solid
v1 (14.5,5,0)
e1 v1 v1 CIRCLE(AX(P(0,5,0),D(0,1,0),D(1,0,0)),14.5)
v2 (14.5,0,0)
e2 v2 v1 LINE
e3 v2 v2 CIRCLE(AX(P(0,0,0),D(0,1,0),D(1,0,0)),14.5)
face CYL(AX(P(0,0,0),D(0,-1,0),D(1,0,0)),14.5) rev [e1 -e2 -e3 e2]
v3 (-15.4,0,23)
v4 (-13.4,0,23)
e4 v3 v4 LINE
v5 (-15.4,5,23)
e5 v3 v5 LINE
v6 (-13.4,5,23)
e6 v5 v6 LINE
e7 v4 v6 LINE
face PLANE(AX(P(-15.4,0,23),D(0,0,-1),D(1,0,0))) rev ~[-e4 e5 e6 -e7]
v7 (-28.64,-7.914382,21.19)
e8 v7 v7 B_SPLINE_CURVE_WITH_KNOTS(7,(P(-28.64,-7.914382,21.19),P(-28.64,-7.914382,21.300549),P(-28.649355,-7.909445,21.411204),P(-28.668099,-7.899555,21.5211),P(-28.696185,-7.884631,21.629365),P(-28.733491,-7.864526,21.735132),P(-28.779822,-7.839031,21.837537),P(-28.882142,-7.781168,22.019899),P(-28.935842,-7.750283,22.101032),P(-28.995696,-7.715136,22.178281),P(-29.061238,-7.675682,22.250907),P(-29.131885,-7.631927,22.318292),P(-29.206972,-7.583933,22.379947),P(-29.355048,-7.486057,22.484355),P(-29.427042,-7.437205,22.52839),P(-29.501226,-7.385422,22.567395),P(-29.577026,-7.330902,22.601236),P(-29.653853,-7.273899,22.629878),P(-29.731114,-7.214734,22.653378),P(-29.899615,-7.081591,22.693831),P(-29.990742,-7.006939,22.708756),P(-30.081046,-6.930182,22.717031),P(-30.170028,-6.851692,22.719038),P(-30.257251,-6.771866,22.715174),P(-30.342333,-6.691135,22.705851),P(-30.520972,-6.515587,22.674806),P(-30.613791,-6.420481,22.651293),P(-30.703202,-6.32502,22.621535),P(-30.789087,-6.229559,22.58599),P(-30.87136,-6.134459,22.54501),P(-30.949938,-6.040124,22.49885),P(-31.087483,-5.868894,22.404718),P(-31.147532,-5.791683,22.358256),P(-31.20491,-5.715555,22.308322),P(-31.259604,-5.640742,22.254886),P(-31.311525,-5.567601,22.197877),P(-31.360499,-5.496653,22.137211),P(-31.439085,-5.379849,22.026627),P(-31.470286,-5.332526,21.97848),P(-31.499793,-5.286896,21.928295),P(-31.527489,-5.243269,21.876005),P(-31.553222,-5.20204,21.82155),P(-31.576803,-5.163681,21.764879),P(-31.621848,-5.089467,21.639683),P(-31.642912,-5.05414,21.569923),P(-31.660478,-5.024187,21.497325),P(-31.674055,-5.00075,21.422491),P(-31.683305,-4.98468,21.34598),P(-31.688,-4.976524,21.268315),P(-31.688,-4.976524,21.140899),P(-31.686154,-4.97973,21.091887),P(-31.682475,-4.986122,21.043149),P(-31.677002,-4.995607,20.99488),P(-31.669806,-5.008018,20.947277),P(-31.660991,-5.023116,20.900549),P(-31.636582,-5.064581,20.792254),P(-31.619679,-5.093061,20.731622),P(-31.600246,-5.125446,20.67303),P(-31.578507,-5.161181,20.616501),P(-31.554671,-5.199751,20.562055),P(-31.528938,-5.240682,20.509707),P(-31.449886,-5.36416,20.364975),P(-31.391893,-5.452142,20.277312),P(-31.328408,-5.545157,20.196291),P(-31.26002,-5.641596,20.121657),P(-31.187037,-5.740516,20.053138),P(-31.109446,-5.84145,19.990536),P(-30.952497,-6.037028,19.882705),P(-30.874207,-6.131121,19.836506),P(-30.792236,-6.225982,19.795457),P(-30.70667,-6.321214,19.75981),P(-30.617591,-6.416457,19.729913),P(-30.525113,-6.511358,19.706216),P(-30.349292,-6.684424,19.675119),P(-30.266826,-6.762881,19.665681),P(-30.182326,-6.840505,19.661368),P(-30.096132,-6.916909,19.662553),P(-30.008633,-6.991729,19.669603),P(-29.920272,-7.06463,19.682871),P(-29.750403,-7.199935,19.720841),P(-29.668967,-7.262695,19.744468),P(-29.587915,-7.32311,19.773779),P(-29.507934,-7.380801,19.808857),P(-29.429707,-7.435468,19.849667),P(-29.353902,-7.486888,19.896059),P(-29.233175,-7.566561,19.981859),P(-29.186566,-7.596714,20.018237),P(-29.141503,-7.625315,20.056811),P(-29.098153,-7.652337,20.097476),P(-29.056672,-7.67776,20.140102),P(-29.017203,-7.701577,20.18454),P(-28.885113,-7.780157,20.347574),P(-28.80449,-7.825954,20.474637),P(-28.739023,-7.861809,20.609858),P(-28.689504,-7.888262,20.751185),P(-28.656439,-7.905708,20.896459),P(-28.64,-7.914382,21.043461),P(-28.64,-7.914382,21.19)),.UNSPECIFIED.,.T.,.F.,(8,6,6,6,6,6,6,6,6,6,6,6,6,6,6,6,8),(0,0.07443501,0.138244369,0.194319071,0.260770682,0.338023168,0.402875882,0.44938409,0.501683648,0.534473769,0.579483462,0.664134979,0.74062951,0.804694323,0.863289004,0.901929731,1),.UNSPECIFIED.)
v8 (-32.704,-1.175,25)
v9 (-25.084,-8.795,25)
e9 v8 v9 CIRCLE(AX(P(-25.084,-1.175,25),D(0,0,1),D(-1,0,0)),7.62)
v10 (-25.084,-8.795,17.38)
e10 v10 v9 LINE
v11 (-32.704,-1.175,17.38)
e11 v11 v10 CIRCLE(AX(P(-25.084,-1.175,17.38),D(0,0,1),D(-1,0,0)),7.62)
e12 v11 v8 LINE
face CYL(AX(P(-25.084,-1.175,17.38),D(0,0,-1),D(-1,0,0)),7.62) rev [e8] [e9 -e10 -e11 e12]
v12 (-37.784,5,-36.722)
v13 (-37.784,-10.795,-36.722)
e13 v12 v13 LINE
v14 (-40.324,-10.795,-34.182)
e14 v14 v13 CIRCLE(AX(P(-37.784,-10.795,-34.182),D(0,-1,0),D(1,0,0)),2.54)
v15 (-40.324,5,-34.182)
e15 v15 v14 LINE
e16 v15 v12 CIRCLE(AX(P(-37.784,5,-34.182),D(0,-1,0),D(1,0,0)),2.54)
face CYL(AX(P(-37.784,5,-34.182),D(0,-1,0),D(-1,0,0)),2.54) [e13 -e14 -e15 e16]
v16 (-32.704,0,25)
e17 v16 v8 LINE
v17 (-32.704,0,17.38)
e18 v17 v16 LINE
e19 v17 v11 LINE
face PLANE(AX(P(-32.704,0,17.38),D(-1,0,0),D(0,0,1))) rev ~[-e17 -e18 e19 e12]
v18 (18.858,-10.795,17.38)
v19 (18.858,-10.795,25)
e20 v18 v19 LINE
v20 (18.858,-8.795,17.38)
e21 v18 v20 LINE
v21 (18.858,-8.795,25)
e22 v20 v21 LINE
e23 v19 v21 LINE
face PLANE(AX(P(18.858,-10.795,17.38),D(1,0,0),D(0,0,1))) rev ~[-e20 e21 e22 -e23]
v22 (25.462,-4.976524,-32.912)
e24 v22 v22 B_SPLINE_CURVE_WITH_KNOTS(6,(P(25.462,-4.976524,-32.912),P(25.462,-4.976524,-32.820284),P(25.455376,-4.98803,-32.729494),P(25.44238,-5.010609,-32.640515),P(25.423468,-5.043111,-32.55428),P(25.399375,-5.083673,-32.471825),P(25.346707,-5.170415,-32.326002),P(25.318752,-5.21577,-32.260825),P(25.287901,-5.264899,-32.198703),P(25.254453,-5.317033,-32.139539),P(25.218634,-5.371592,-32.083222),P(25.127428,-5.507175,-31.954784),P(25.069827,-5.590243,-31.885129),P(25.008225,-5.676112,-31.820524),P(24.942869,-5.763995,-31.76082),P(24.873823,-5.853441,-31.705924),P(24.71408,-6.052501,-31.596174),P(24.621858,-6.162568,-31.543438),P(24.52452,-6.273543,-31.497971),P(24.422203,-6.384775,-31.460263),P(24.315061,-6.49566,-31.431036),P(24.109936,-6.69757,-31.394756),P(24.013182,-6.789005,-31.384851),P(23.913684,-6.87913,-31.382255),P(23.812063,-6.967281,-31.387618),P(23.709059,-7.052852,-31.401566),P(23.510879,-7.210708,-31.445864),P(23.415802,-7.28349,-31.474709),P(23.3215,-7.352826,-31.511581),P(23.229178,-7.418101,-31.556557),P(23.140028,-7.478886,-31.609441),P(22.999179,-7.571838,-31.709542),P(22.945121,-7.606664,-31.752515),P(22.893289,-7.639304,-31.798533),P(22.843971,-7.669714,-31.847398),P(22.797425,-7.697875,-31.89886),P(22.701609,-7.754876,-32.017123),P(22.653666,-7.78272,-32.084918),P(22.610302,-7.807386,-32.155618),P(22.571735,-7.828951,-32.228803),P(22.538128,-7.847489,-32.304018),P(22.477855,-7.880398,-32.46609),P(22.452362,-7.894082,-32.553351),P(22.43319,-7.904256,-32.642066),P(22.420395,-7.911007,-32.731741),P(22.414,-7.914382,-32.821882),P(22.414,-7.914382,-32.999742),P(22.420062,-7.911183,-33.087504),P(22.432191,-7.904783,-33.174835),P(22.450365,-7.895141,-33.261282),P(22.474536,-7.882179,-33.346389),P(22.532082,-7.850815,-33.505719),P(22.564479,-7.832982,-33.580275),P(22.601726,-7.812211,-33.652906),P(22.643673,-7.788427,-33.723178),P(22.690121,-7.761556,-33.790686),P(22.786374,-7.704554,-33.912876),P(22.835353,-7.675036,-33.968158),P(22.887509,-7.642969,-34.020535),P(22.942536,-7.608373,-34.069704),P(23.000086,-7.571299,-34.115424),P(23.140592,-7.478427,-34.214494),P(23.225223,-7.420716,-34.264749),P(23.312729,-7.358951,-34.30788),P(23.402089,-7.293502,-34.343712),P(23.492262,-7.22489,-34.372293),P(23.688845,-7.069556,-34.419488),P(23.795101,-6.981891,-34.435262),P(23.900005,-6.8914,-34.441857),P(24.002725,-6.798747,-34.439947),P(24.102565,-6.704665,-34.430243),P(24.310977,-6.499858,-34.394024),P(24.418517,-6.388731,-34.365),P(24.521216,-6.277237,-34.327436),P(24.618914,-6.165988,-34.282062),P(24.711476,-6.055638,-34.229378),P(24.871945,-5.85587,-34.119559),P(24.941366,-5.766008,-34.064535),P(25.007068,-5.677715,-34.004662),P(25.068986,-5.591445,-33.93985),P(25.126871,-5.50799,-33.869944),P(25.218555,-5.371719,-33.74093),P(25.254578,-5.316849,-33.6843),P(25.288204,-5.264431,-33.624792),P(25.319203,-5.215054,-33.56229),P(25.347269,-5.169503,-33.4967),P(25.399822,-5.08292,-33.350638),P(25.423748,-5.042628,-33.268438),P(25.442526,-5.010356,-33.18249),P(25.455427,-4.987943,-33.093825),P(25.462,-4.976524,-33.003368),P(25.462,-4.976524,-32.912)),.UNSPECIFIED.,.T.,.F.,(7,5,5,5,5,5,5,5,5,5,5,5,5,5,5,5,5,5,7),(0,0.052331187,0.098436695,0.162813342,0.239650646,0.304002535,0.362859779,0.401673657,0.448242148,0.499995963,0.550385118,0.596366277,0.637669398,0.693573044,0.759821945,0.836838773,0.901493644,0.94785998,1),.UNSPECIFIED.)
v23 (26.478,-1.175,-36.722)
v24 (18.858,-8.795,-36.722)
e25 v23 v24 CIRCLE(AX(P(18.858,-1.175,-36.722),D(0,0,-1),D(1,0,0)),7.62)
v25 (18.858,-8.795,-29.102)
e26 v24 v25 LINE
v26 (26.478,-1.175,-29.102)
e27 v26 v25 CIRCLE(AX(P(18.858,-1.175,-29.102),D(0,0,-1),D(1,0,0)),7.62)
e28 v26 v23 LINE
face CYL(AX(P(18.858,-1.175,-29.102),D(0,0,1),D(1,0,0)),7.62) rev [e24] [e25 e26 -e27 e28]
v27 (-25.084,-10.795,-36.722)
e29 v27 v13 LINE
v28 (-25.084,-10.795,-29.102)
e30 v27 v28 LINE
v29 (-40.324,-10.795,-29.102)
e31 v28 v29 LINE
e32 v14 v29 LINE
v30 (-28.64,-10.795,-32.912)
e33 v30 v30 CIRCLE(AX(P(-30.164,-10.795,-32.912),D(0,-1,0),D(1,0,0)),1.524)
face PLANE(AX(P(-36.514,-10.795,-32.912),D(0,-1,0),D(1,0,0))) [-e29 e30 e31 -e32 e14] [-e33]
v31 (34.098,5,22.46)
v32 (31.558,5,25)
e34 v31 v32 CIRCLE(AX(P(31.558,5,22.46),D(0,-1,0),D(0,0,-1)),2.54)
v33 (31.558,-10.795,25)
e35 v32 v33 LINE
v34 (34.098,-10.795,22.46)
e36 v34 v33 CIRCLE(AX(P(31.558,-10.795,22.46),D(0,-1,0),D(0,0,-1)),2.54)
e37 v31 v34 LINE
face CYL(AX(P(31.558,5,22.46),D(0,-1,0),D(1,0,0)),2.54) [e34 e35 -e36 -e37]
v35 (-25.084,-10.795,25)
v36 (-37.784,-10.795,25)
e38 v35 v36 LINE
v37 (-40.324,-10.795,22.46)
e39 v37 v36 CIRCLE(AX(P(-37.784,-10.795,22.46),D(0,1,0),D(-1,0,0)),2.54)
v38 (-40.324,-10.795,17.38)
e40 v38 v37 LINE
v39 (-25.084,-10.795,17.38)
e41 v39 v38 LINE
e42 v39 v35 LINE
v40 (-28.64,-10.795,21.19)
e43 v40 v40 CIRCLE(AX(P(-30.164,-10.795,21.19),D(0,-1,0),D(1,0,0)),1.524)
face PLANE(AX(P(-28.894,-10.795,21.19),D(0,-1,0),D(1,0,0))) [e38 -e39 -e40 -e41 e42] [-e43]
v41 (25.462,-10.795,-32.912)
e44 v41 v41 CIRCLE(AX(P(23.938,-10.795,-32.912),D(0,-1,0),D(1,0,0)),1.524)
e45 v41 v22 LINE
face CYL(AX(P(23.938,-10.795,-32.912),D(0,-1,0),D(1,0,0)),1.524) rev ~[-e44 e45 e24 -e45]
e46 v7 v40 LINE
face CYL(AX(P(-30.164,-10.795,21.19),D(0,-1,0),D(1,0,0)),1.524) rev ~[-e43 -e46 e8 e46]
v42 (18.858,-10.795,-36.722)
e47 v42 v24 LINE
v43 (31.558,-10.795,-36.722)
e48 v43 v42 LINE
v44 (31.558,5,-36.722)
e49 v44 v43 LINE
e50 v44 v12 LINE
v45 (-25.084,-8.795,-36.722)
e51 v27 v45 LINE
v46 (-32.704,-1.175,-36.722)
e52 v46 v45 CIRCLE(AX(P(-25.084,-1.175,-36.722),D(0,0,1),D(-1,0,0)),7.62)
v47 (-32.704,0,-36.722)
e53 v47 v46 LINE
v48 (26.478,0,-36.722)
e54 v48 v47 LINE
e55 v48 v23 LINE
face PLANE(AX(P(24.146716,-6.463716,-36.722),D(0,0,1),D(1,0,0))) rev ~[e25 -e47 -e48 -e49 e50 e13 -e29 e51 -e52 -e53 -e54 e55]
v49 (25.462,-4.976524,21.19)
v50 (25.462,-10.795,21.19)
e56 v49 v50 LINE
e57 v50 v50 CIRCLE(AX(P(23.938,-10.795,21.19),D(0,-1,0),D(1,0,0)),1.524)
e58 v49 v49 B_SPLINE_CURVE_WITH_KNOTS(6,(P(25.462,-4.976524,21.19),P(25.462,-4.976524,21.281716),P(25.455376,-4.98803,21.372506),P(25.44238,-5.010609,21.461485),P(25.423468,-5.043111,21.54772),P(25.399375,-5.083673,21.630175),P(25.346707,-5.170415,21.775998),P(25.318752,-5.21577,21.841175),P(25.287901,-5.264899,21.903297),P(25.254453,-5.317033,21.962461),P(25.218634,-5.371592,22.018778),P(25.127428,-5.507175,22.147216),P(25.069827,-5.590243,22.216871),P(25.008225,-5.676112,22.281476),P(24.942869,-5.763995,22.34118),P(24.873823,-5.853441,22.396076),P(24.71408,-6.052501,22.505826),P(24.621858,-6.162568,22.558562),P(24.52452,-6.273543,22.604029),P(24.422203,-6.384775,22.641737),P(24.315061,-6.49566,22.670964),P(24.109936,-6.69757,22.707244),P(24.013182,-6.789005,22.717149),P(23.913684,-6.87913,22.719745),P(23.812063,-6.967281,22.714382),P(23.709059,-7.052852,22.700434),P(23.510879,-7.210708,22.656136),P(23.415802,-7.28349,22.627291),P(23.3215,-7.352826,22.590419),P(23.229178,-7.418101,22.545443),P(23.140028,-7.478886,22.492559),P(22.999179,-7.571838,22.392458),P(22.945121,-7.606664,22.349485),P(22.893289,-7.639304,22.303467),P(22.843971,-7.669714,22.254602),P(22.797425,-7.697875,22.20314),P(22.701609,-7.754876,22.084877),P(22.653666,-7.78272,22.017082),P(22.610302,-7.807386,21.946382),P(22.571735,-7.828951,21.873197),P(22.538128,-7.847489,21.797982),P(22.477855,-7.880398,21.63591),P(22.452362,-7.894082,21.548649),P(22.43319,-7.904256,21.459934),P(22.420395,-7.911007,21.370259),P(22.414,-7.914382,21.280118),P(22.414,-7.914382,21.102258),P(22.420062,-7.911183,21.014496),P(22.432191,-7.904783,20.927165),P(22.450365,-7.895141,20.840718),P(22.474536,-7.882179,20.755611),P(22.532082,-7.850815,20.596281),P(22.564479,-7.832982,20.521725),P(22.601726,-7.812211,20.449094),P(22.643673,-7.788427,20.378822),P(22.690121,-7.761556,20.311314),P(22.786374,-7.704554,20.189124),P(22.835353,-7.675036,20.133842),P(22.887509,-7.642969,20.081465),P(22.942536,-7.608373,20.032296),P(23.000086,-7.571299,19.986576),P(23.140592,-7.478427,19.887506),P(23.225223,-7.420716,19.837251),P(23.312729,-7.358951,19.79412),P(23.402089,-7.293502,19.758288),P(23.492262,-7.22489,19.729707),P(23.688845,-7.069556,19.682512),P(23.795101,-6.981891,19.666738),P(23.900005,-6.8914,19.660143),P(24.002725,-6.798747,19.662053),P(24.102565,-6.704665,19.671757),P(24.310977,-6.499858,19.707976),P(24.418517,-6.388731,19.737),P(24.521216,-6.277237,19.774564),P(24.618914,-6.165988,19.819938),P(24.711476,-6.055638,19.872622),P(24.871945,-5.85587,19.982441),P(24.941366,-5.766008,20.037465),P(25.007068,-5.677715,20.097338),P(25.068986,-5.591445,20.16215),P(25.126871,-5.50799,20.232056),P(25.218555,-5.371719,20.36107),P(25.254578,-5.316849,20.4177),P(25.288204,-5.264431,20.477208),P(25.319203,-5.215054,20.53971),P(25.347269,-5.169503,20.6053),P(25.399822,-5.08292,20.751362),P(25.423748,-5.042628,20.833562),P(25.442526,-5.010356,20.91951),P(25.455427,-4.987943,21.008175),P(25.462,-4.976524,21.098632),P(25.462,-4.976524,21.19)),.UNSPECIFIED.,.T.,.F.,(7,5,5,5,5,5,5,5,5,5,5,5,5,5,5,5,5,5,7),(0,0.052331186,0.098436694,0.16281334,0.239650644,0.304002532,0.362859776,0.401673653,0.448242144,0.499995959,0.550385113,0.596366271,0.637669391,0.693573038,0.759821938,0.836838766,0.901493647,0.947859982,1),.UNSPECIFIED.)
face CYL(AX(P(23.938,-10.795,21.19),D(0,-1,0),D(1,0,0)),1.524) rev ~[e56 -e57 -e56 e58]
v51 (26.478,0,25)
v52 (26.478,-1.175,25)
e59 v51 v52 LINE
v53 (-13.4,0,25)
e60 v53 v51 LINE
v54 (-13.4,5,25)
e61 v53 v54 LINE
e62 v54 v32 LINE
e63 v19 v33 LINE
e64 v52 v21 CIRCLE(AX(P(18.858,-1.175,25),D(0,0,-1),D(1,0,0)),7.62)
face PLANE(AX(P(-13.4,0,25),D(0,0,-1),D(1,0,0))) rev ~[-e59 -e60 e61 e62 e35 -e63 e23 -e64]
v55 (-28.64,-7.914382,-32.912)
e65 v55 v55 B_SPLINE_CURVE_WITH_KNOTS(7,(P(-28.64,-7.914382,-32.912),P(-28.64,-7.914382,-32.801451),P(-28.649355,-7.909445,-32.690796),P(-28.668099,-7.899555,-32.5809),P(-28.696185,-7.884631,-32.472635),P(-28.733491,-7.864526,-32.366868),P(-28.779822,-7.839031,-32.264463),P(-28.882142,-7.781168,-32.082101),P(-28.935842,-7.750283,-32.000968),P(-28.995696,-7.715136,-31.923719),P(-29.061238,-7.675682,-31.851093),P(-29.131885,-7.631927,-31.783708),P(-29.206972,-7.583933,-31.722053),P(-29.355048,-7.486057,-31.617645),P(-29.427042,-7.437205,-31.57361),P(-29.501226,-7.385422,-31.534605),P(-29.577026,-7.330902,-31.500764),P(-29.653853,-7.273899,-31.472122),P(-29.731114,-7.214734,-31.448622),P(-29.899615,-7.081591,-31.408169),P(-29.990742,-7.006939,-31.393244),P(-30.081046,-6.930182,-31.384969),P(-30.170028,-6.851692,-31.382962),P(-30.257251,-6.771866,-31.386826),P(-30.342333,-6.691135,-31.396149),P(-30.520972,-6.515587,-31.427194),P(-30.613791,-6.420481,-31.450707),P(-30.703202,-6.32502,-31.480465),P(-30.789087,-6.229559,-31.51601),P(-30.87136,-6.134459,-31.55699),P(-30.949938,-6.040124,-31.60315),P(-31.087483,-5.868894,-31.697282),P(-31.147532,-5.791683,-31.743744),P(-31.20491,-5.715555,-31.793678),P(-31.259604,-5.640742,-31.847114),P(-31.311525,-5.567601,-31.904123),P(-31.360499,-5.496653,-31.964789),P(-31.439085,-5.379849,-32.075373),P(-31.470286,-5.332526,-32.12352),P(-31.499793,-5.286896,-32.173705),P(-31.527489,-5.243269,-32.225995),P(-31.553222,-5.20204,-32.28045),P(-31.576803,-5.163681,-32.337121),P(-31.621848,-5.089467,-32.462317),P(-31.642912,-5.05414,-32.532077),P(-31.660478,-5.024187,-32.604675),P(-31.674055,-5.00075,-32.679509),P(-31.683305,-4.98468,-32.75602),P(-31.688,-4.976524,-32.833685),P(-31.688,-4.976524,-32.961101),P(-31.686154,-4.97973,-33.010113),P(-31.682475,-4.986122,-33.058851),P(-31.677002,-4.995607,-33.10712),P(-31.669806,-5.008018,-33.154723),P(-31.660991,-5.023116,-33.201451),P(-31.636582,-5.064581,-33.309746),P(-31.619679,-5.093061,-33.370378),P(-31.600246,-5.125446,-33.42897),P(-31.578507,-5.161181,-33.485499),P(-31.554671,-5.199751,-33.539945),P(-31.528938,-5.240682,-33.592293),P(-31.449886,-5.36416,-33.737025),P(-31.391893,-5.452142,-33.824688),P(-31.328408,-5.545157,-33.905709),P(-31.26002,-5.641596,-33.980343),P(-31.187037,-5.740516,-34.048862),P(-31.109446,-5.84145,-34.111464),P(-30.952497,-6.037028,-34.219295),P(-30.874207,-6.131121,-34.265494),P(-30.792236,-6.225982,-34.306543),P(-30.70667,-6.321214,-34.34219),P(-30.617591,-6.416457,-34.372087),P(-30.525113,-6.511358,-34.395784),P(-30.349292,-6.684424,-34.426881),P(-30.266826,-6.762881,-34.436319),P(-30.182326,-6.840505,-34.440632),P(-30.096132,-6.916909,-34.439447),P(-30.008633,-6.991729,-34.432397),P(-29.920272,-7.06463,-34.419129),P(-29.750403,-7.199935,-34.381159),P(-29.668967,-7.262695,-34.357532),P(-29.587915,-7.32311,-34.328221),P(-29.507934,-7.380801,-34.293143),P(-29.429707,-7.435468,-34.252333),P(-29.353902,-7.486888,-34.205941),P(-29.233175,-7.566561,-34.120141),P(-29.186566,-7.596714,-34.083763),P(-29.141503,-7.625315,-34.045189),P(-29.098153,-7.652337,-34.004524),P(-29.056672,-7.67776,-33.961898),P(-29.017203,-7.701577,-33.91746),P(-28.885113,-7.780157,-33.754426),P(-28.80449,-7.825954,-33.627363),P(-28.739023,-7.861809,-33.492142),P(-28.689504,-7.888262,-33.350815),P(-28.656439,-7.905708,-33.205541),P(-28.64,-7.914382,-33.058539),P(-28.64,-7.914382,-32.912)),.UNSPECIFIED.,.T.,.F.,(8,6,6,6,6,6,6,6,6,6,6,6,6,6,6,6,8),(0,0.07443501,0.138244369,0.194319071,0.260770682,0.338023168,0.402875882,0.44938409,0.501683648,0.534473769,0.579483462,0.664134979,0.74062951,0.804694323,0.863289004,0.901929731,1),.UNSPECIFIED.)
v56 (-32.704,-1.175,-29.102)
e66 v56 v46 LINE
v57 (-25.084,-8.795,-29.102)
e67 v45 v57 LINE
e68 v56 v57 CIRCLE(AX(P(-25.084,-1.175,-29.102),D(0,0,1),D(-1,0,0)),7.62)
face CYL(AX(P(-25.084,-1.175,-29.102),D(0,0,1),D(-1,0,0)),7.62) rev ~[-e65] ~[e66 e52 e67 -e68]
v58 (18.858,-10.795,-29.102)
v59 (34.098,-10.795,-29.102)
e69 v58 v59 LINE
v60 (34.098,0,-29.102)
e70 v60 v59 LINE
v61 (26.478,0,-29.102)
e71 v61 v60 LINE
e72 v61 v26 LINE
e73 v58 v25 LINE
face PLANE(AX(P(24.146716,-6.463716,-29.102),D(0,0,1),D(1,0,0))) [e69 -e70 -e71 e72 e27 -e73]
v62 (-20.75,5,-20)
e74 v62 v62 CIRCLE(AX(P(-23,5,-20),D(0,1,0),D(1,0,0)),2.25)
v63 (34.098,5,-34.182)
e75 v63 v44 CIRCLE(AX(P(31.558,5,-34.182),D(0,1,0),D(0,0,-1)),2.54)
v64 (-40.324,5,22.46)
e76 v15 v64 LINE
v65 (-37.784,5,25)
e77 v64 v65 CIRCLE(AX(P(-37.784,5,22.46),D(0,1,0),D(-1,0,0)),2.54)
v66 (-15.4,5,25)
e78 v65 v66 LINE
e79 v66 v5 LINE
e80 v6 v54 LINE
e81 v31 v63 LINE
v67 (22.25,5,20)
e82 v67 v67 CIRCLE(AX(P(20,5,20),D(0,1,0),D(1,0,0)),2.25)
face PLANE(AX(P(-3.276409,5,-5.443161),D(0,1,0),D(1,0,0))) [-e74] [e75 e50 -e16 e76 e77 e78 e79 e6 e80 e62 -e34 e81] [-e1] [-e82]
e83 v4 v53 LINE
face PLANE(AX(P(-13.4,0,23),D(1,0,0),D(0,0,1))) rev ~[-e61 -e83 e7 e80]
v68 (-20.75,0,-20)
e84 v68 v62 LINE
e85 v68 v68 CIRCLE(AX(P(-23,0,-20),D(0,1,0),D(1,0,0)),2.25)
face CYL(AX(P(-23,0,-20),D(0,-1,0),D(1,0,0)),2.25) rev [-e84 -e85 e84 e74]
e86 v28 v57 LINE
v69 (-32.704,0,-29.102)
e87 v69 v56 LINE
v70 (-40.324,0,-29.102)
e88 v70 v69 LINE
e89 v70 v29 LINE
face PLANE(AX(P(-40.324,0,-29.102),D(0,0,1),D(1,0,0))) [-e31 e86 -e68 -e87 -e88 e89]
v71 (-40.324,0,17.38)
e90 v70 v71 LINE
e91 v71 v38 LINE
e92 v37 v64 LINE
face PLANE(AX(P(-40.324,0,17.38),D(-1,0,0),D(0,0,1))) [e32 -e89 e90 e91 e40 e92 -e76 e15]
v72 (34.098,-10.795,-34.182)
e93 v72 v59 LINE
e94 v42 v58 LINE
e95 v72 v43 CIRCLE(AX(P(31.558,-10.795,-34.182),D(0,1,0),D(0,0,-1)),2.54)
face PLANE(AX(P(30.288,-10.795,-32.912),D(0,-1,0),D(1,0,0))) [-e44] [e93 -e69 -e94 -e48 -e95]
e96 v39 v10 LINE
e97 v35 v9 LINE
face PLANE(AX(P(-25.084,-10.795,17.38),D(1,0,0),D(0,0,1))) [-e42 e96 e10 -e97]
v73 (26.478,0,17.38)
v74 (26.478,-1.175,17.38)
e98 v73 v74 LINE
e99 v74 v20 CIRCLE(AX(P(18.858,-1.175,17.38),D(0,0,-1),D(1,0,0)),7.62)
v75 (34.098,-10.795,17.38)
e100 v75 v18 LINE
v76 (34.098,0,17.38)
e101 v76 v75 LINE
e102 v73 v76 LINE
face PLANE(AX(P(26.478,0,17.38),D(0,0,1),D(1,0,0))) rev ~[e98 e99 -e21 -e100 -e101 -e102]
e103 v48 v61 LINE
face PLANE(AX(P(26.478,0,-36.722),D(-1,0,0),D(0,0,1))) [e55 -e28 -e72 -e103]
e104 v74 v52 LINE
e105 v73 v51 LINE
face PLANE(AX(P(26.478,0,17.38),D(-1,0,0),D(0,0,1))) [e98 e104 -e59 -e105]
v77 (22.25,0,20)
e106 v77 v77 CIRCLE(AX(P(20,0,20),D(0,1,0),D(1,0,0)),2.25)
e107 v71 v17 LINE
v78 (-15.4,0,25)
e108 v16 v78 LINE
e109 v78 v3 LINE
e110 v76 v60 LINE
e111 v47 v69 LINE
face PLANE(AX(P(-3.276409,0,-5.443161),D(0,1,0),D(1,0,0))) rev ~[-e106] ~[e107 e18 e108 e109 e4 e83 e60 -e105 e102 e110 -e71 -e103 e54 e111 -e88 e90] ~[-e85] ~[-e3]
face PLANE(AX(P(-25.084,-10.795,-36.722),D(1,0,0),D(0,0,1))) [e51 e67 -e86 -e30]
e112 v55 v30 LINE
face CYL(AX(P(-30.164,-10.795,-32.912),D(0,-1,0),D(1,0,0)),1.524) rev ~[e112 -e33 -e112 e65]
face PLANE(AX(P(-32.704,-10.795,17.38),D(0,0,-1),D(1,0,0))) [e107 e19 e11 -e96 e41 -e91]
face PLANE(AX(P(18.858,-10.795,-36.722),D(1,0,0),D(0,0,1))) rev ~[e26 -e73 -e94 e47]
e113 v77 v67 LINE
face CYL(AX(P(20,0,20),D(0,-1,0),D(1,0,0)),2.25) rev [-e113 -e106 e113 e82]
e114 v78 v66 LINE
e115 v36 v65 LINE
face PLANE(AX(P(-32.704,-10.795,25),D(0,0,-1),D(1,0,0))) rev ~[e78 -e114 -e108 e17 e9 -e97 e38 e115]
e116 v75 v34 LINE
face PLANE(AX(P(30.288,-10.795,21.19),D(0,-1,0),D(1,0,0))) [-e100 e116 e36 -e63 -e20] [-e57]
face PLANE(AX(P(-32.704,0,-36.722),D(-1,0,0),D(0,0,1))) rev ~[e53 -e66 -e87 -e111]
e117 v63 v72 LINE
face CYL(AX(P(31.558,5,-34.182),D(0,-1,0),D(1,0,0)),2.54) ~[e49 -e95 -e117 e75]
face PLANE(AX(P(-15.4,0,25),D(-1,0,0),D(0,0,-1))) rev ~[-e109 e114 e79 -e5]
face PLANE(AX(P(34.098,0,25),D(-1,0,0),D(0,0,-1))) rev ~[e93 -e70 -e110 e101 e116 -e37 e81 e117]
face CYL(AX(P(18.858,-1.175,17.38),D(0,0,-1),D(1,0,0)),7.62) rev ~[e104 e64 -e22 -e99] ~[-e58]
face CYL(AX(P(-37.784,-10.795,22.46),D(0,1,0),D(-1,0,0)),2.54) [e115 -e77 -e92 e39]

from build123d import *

# Parameters (mm, degrees)
SKETCH1_R           = 14.5
SKETCH1_R_2         = 2.25
BOSS_EXTRUDE1_DEPTH = 5
SKETCH2_W           = 7.62
SKETCH2_H           = 7.62
BOSS_EXTRUDE2_DEPTH = 10.795
SKETCH4_W           = 7.62
SKETCH4_H           = 7.62
SKETCH4_R           = 1.524
BOSS_EXTRUDE3_DEPTH = 2
BOSS_EXTRUDE4_START = -7.62
BOSS_EXTRUDE4_DEPTH = 7.62
BOSS_EXTRUDE5_START = -7.62
BOSS_EXTRUDE5_DEPTH = 7.62
SKETCH4_2_R         = 1.524
CUT_EXTRUDE1_DEPTH  = 10.795
FILLET1_R           = 2.54


with BuildPart() as part:
    # Sketch1 → Boss-Extrude1 (new body)
    with BuildSketch(Plane(origin=(0, 0, 0), x_dir=(1, 0, 0), z_dir=(0, 1, 0))):
        Polygon((-40.324, -25), (-15.4, -25), (-15.4, -23), (-13.4, -23), (-13.4, -25), (34.098, -25), (34.098, 36.722), (-40.324, 36.722), align=None)
        Circle(SKETCH1_R, mode=Mode.SUBTRACT)
        with Locations((-23, 20)):
            Circle(SKETCH1_R_2, mode=Mode.SUBTRACT)
        with Locations((20, -20)):
            Circle(SKETCH1_R_2, mode=Mode.SUBTRACT)
    extrude(amount=BOSS_EXTRUDE1_DEPTH)

    # Sketch2 → Boss-Extrude2 (add)
    with BuildSketch(Plane.XZ):
        with Locations((-36.514, 21.19)):
            Rectangle(SKETCH2_W, SKETCH2_H)
        with Locations((30.288, 21.19)):
            Rectangle(SKETCH2_W, SKETCH2_H)
        with Locations((30.288, -32.912)):
            Rectangle(SKETCH2_W, SKETCH2_H)
        with Locations((-36.514, -32.912)):
            Rectangle(SKETCH2_W, SKETCH2_H)
    extrude(amount=BOSS_EXTRUDE2_DEPTH)

    # Sketch4 → Boss-Extrude3 (add)
    with BuildSketch(Plane.XZ.offset(10.795)):
        with Locations((-28.894, 21.19)):
            Rectangle(SKETCH4_W, SKETCH4_H)
        with Locations((-30.164, 21.19)):
            Circle(SKETCH4_R, mode=Mode.SUBTRACT)
        with Locations((-28.894, -32.912)):
            Rectangle(SKETCH4_W, SKETCH4_H)
        with Locations((-30.164, -32.912)):
            Circle(SKETCH4_R, mode=Mode.SUBTRACT)
        with Locations((22.668, -32.912)):
            Rectangle(SKETCH4_W, SKETCH4_H)
        with Locations((23.938, -32.912)):
            Circle(SKETCH4_R, mode=Mode.SUBTRACT)
        with Locations((22.668, 21.19)):
            Rectangle(SKETCH4_W, SKETCH4_H)
        with Locations((23.938, 21.19)):
            Circle(SKETCH4_R, mode=Mode.SUBTRACT)
    extrude(amount=-BOSS_EXTRUDE3_DEPTH)

    # Sketch5 → Boss-Extrude4 (add)
    with BuildSketch(Plane.XY.offset(25).offset(BOSS_EXTRUDE4_START)):
        with BuildLine():
            Line((-25.084, -8.795), (-32.704, -8.795))
            Line((-32.704, -8.795), (-32.704, -1.175))
            ThreePointArc((-32.704, -1.175), (-30.472153673, -6.563153673), (-25.084, -8.795))
        make_face()
        with BuildLine():
            Line((18.858, -8.795), (26.478, -8.795))
            Line((26.478, -8.795), (26.478, -1.175))
            ThreePointArc((26.478, -1.175), (24.246153673, -6.563153673), (18.858, -8.795))
        make_face()
    extrude(amount=BOSS_EXTRUDE4_DEPTH)

    # Sketch6 → Boss-Extrude5 (add)
    with BuildSketch(Plane(origin=(0, 0, -36.722), x_dir=(-1, 0, 0), z_dir=(0, 0, -1)).offset(BOSS_EXTRUDE5_START)):
        with BuildLine():
            Line((-26.478, -8.795), (-26.478, -1.175))
            ThreePointArc((-26.478, -1.175), (-24.246153673, -6.563153673), (-18.858, -8.795))
            Line((-18.858, -8.795), (-26.478, -8.795))
        make_face()
        with BuildLine():
            Line((32.704, -8.795), (32.704, -1.175))
            ThreePointArc((32.704, -1.175), (30.472153673, -6.563153673), (25.084, -8.795))
            Line((25.084, -8.795), (32.704, -8.795))
        make_face()
    extrude(amount=BOSS_EXTRUDE5_DEPTH)

    # Sketch4<2> → Cut-Extrude1 (cut)
    with BuildSketch(Plane.XZ.offset(10.795)):
        with Locations((23.938, 21.19)):
            Circle(SKETCH4_2_R)
        with Locations((-30.164, -32.912)):
            Circle(SKETCH4_2_R)
        with Locations((-30.164, 21.19)):
            Circle(SKETCH4_2_R)
        with Locations((23.938, -32.912)):
            Circle(SKETCH4_2_R)
    extrude(amount=-CUT_EXTRUDE1_DEPTH, mode=Mode.SUBTRACT)

    # Fillet1
    fillet1_edges = [part.edges().sort_by_distance(p)[0] for p in [
        (-40.324, -2.8975, 25),
        (-40.324, -2.8975, -36.722),
        (34.098, -2.8975, -36.722),
        (34.098, -2.8975, 25),
    ]]
    fillet(fillet1_edges, radius=FILLET1_R)


solid = part.part
